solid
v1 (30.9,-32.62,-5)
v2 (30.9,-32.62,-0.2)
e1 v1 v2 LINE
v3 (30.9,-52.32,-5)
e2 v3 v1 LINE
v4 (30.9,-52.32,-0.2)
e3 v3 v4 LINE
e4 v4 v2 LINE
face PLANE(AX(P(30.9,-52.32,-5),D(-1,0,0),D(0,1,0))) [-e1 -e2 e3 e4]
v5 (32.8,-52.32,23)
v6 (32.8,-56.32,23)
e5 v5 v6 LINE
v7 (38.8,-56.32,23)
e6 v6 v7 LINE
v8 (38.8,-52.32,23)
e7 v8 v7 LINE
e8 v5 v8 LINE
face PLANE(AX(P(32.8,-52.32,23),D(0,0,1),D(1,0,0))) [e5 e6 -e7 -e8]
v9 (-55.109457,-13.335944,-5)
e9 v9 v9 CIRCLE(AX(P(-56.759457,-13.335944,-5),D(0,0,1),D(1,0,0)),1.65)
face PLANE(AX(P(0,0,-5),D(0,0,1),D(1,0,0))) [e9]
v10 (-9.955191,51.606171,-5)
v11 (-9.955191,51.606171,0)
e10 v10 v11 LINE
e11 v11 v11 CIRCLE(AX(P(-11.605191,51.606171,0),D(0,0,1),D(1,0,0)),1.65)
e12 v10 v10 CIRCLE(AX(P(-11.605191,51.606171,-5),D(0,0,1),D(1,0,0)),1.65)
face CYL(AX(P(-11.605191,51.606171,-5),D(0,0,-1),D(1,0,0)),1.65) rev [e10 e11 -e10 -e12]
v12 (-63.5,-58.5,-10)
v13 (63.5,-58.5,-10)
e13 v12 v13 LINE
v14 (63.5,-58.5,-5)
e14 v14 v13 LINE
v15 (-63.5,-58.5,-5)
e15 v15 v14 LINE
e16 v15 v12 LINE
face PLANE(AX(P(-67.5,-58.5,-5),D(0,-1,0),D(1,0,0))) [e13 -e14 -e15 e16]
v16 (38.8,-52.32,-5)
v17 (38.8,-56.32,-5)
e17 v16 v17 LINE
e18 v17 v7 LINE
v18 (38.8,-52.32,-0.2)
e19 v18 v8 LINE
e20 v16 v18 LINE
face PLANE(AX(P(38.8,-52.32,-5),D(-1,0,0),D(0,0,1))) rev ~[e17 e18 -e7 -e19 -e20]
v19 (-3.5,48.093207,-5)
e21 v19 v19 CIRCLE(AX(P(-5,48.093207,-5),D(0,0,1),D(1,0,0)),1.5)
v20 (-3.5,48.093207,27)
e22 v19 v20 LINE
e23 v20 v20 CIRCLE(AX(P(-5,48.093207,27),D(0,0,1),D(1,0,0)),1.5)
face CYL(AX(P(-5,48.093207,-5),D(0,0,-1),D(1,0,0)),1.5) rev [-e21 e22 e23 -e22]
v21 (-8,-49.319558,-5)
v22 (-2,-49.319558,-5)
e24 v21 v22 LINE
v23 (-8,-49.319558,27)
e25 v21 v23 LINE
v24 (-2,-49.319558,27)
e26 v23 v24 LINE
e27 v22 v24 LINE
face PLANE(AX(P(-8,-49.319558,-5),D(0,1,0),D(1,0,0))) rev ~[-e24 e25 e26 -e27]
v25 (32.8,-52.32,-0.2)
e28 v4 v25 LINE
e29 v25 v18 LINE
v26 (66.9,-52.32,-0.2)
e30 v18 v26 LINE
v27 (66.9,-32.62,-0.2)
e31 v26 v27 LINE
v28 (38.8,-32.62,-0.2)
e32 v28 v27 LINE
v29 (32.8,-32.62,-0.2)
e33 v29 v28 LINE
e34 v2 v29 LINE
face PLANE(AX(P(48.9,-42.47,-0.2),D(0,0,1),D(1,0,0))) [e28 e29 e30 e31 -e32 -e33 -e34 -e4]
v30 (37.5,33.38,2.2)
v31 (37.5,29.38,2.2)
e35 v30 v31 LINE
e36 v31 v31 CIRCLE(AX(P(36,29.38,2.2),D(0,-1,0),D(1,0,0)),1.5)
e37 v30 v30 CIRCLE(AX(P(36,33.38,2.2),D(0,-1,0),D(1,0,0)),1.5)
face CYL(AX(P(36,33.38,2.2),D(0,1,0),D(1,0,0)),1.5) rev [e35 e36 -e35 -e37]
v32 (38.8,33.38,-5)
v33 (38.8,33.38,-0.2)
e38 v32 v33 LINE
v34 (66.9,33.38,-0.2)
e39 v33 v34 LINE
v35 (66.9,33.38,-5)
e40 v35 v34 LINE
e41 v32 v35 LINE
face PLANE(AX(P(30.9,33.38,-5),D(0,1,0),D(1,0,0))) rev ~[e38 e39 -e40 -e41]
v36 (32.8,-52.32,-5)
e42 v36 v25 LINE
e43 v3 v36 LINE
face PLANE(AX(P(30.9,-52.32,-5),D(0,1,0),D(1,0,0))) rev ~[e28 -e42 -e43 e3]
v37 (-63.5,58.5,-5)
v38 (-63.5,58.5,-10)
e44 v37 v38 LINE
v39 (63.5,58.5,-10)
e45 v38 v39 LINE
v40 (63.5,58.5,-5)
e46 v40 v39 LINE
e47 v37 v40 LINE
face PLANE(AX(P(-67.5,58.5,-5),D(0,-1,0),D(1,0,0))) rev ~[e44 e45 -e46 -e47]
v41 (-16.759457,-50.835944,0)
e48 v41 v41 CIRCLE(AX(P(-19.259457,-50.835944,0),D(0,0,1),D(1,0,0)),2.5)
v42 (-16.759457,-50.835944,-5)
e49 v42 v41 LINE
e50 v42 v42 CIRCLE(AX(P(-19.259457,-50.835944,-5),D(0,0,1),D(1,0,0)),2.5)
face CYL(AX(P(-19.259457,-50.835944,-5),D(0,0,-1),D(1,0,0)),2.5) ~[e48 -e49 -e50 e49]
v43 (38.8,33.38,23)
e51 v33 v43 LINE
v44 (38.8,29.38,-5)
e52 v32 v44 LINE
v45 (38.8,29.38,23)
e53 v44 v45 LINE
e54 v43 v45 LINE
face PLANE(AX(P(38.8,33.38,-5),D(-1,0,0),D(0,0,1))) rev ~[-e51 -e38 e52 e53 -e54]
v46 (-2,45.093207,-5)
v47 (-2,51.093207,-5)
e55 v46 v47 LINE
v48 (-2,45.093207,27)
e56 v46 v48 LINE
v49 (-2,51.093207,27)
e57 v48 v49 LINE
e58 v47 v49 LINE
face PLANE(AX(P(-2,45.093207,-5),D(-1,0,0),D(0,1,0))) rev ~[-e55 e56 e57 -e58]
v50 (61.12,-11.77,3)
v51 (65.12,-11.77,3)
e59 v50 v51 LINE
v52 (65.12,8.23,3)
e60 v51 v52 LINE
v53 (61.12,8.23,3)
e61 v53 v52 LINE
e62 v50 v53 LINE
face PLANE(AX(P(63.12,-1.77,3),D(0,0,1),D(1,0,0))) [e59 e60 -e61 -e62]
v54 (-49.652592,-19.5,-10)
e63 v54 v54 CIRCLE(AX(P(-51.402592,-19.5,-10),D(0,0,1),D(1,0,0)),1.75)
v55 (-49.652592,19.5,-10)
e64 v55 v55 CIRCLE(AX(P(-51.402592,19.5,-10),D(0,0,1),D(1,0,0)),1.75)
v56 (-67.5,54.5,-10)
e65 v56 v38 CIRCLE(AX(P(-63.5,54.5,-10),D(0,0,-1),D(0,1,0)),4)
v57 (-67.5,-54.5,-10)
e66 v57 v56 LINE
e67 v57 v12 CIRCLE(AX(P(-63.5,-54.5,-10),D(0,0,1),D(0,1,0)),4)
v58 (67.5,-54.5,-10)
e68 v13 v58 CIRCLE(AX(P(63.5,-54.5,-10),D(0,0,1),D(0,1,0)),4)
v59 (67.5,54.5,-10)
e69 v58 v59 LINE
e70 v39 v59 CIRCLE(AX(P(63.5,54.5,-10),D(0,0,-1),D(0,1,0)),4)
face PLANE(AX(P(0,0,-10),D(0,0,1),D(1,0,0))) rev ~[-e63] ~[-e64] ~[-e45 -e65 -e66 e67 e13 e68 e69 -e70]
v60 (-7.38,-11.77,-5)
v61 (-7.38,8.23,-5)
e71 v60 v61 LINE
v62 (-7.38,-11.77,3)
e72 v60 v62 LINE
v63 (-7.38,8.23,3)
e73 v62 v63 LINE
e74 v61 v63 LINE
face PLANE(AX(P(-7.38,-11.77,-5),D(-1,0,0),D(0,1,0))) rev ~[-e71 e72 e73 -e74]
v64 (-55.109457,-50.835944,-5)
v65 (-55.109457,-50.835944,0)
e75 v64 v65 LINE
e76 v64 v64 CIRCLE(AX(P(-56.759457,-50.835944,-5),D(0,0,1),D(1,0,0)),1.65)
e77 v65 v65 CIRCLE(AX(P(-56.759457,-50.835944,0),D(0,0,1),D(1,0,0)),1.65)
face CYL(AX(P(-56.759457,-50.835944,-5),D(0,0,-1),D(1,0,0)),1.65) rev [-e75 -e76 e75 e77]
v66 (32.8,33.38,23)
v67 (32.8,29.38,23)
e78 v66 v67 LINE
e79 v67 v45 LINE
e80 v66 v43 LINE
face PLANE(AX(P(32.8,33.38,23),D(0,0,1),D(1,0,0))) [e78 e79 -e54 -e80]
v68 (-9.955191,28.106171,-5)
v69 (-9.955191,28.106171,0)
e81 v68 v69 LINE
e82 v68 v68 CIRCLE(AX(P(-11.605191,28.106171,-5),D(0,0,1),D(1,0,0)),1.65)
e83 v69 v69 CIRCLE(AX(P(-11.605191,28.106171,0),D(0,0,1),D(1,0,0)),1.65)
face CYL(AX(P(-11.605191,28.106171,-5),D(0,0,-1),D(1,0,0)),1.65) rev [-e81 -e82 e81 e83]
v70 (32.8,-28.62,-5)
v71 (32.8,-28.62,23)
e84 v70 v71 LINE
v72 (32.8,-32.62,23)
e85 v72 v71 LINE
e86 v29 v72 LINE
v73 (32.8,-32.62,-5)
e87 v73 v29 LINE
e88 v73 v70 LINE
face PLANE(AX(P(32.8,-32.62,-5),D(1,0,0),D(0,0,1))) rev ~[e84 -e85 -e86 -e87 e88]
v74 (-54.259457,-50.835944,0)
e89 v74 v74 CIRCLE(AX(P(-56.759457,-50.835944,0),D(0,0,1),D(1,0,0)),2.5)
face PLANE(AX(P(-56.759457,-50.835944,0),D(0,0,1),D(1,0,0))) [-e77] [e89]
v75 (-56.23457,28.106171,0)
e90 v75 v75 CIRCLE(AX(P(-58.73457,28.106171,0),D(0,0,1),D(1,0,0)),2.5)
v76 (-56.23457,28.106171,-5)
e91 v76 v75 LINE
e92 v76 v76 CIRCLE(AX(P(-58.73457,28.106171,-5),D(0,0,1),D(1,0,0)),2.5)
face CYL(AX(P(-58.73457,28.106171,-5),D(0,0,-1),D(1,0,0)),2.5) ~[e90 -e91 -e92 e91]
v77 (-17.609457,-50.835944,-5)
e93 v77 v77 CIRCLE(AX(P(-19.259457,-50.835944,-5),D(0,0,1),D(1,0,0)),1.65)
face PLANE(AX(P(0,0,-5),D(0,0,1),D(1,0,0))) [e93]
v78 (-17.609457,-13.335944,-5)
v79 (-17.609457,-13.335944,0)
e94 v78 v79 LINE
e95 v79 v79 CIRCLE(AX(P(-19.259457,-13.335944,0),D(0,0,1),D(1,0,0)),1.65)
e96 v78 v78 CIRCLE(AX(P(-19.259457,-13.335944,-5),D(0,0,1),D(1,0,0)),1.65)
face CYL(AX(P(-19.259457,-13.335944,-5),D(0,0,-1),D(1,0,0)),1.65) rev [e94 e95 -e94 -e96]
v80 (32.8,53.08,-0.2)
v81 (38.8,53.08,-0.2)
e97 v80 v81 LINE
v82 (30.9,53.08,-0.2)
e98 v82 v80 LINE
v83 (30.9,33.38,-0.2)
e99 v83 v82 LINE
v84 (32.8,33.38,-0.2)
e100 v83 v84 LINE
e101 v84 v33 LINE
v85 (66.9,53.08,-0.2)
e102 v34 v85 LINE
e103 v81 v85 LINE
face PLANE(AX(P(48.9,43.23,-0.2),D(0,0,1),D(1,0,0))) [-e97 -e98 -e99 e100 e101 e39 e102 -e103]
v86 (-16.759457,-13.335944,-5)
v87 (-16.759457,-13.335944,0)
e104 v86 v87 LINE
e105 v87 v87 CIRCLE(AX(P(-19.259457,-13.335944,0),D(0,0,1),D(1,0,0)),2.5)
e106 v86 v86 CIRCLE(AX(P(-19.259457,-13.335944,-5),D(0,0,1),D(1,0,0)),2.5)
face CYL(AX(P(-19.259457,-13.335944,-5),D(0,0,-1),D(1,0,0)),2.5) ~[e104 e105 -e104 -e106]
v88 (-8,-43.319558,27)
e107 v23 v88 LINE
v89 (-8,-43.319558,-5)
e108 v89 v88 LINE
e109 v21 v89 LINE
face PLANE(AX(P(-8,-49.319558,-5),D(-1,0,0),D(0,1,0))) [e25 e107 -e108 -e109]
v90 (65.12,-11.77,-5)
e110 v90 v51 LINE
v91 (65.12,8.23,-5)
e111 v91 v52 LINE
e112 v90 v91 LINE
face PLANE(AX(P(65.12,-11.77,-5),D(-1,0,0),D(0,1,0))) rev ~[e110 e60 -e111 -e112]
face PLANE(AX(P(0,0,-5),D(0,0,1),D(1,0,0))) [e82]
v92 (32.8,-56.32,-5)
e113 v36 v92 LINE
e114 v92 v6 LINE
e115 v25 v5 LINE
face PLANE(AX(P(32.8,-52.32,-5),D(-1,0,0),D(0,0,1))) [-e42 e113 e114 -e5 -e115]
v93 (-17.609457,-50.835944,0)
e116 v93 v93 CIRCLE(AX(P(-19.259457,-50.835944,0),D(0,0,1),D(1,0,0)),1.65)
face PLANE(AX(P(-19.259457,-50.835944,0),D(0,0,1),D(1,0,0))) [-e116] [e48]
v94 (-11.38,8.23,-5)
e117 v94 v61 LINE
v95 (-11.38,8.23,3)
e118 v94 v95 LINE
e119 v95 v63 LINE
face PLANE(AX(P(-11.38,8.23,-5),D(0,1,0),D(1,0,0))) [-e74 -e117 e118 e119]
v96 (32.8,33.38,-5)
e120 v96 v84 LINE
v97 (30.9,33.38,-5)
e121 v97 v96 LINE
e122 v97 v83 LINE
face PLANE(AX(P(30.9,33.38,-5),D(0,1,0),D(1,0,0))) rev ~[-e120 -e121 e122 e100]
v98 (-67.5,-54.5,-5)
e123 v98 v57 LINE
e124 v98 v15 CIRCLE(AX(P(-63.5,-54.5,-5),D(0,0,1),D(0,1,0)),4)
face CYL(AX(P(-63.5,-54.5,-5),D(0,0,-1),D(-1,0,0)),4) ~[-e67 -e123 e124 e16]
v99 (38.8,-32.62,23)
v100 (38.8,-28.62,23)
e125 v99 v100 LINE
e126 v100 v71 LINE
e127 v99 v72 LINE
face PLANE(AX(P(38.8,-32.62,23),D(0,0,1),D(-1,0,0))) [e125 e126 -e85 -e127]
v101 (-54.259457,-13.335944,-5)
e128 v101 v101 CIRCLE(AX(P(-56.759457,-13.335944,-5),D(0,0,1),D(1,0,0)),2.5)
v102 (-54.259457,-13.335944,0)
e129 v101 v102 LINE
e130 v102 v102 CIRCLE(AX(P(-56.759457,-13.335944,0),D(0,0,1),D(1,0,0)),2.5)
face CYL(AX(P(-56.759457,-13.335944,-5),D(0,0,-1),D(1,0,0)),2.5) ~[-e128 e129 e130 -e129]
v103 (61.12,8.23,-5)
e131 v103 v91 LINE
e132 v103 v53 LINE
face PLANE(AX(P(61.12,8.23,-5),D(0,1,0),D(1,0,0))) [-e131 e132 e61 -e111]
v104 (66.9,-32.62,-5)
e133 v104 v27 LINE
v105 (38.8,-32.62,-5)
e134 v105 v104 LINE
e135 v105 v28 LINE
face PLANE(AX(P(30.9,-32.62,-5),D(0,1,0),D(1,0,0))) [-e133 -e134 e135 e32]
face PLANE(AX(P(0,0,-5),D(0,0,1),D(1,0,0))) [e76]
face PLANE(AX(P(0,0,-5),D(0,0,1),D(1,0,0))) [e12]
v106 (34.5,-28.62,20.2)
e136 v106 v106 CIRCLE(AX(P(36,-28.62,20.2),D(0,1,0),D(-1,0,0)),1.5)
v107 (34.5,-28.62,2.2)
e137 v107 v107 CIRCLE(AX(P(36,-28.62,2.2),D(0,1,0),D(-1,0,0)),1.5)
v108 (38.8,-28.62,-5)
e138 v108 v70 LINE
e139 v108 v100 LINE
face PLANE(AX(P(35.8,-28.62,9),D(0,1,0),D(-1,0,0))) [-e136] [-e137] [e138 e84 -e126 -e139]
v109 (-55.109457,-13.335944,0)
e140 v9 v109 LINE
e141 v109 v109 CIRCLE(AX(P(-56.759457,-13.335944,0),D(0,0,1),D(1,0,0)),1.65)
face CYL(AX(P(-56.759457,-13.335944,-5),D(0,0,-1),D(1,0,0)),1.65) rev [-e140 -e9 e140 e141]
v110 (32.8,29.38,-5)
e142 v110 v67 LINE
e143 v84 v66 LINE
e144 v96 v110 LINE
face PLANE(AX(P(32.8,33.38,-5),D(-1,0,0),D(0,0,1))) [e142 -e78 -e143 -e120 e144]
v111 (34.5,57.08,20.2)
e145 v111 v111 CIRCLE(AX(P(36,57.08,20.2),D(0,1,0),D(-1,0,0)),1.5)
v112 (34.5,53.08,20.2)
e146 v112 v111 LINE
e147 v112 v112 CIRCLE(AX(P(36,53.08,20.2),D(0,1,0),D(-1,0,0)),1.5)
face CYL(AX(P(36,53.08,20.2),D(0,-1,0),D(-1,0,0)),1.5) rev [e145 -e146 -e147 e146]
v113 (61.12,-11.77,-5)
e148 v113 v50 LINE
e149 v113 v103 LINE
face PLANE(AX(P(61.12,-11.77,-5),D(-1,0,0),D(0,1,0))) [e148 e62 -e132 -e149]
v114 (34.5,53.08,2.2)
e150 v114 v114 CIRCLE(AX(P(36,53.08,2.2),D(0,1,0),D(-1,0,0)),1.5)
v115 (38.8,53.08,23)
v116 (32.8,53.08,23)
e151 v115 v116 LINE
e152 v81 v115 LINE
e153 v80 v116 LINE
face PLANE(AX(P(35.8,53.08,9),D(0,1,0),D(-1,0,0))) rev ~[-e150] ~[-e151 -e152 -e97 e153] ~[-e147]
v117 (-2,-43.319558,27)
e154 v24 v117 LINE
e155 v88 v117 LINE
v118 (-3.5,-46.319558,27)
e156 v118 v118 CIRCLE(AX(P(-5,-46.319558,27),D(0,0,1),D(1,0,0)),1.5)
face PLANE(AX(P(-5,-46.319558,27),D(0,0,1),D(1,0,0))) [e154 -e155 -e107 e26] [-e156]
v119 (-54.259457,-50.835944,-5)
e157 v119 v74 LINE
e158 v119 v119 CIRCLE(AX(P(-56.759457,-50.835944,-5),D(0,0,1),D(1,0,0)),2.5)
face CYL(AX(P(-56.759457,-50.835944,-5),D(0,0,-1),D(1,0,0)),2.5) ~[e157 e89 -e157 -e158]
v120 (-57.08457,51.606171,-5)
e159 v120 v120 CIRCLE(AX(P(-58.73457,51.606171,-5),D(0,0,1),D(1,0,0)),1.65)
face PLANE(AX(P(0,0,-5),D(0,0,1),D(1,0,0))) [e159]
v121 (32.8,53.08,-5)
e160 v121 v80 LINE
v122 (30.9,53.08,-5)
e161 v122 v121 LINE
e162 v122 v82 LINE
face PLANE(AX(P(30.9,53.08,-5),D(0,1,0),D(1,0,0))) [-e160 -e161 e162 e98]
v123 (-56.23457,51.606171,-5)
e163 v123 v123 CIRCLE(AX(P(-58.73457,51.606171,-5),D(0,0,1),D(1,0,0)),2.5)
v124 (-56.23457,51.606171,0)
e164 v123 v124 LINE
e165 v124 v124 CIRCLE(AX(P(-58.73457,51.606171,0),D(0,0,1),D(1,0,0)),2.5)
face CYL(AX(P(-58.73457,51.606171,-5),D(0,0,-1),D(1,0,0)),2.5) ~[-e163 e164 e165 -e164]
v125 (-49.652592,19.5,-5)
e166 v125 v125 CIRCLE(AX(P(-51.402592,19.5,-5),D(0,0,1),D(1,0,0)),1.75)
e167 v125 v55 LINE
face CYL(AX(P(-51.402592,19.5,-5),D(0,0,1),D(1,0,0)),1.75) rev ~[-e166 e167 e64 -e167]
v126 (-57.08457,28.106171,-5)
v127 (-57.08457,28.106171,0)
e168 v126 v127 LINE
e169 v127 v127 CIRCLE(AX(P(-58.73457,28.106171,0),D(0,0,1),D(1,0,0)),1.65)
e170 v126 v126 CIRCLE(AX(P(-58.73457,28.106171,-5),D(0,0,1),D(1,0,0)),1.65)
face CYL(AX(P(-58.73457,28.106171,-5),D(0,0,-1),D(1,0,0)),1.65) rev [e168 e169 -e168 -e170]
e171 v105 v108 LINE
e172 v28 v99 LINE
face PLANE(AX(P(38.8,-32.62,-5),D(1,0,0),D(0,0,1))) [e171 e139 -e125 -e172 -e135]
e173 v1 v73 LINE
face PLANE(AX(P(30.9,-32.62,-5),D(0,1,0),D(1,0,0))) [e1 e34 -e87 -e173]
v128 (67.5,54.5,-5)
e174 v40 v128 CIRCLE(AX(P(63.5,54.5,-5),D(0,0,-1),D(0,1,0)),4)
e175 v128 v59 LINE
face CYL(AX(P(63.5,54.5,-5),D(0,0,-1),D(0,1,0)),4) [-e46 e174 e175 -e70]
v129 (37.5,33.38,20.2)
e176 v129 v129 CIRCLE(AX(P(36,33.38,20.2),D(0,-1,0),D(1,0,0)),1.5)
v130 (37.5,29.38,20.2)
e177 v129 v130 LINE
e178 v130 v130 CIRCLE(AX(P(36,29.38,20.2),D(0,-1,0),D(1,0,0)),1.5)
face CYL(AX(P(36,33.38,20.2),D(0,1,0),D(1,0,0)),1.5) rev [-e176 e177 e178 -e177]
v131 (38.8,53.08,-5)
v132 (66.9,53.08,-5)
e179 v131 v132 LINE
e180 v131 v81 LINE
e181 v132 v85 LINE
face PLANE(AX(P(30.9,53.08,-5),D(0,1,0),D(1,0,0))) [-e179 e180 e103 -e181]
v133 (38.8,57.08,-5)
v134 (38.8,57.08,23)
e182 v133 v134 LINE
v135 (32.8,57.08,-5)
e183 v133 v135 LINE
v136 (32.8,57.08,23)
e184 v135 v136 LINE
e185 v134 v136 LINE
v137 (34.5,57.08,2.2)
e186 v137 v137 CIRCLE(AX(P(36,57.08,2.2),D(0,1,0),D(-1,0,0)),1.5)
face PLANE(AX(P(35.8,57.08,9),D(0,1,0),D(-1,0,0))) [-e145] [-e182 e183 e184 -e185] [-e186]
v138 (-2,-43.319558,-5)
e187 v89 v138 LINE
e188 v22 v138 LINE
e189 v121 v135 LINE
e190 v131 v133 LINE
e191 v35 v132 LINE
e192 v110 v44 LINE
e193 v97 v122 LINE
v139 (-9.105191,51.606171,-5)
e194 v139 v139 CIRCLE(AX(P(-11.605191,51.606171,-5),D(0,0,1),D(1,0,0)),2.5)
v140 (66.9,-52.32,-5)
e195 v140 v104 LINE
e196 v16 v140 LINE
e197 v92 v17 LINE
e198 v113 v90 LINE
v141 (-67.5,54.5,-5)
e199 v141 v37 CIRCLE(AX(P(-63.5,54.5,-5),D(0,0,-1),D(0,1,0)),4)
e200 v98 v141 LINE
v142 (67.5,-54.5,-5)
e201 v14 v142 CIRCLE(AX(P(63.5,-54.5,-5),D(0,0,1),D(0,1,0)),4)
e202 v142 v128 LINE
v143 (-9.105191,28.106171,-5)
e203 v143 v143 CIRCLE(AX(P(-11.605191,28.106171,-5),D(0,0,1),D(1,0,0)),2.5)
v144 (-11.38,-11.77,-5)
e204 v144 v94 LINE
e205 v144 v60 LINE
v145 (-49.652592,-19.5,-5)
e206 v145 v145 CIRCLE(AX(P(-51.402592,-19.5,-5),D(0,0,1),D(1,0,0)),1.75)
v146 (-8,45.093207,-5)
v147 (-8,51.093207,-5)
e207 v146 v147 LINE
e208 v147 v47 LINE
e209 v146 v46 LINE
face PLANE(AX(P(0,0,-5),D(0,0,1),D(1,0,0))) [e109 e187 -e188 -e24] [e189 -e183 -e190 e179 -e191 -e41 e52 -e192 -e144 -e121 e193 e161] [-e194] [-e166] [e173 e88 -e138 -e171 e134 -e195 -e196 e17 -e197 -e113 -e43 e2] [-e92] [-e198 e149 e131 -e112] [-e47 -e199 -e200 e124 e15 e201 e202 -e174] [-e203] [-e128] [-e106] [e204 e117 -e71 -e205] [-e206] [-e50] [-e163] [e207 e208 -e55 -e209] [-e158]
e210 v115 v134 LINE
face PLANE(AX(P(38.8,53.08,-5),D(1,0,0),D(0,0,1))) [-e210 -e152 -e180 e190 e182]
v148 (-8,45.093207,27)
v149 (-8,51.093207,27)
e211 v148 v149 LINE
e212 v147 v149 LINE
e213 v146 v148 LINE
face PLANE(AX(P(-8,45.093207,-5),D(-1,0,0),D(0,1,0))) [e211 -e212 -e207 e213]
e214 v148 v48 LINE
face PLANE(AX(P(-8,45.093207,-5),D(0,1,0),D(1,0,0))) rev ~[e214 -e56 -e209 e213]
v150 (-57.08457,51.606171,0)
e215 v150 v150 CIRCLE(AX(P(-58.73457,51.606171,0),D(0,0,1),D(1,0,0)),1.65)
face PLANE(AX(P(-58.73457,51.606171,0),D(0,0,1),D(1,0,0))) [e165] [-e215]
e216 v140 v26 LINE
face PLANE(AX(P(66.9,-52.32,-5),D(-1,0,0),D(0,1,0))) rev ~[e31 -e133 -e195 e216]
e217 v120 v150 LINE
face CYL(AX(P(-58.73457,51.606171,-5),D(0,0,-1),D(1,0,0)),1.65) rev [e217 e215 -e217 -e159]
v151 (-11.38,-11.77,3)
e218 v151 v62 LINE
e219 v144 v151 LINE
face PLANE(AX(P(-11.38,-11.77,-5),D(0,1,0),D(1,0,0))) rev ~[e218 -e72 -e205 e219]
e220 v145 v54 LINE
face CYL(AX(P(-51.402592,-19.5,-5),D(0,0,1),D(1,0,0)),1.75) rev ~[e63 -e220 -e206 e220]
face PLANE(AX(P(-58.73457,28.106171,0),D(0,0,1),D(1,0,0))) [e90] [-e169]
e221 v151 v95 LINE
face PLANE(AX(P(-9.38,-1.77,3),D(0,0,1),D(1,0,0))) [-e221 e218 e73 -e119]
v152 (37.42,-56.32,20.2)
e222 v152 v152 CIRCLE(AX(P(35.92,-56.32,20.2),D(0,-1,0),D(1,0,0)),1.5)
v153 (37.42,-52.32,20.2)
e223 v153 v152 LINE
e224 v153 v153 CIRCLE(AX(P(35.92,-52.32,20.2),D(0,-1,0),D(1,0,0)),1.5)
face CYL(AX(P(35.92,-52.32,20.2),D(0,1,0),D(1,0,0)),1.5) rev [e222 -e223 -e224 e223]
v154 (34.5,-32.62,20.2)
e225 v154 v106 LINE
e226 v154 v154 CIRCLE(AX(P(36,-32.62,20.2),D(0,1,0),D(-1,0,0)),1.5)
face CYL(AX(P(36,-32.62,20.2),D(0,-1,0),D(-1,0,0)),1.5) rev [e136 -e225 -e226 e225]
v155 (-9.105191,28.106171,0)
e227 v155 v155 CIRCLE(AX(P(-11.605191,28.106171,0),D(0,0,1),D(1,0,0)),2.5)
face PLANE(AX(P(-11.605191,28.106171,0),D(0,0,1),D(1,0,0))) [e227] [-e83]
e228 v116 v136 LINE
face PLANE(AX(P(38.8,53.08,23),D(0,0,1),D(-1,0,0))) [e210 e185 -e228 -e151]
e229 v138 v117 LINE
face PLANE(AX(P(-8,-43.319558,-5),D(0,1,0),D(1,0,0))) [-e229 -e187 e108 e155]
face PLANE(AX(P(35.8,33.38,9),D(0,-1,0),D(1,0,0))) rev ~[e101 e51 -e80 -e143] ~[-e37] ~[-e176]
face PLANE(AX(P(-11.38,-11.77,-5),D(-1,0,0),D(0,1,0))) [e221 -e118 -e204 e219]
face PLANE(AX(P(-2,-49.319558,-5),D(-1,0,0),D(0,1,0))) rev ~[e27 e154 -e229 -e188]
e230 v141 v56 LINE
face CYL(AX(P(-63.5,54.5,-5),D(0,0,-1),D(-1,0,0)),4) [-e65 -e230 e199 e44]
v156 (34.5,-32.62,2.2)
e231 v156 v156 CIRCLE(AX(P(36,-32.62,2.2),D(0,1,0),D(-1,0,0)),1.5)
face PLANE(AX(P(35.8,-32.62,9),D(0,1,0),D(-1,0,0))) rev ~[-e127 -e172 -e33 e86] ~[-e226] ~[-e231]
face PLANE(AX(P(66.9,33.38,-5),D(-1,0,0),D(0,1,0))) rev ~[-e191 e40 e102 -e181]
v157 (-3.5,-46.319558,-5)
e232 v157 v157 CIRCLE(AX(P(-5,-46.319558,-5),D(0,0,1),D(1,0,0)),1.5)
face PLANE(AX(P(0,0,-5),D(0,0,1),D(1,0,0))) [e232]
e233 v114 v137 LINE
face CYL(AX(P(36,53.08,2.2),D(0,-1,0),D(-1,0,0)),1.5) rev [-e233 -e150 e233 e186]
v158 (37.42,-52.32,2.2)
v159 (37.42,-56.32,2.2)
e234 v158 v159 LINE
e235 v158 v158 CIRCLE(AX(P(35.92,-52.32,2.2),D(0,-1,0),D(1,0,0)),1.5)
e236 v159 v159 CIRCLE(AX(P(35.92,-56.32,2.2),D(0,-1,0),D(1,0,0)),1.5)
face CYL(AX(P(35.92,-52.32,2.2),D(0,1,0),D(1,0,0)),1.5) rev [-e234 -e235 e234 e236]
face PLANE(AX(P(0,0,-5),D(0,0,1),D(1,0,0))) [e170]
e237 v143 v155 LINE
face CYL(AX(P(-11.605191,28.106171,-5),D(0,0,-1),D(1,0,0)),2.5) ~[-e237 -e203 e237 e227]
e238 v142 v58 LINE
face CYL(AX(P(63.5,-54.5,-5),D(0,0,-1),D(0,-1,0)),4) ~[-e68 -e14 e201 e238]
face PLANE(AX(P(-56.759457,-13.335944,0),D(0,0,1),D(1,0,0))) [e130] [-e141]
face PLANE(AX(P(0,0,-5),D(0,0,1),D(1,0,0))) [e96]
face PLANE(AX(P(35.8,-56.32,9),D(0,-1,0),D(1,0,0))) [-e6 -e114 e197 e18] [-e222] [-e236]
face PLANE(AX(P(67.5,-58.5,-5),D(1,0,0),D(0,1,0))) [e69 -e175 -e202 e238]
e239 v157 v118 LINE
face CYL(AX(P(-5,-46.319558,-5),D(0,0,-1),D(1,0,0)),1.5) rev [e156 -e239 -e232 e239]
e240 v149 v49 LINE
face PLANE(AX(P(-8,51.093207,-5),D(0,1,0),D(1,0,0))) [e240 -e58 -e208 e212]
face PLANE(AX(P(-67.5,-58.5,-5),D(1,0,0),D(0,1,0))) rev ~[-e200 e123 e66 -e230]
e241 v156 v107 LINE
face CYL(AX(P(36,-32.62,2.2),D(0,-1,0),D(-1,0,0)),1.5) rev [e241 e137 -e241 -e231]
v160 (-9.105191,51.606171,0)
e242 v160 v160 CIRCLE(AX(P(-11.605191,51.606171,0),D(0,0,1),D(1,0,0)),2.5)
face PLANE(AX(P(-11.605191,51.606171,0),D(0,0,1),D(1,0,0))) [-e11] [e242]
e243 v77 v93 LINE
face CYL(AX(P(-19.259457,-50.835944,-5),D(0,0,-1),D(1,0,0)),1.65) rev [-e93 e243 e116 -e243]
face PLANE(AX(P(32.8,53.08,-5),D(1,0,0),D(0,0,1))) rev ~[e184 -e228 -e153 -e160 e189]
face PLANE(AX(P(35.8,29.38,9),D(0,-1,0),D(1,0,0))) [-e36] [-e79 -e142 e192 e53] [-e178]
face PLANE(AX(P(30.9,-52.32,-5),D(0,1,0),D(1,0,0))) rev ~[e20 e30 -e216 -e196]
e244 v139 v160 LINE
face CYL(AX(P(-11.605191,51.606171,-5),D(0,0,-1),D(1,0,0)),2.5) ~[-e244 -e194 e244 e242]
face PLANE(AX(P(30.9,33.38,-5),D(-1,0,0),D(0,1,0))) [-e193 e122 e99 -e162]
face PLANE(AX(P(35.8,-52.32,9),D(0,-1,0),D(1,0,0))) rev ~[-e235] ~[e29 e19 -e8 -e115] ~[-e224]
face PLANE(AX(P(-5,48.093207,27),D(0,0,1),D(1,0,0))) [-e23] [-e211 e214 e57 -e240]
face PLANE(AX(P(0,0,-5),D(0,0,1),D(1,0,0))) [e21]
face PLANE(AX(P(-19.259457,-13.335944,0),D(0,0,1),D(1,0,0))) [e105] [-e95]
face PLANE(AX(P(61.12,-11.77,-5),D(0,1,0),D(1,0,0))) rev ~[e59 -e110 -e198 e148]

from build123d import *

# Parameters (mm, degrees)
SKETCH_W      = 135
SKETCH_H      = 117
SKETCH_R      = 1.75
PAD_DEPTH     = 5
SKETCH001_W   = 36
SKETCH001_H   = 19.7
PAD001_DEPTH  = 4.8
SKETCH002_W   = 6
SKETCH002_H   = 28
SKETCH002_R   = 1.5
PAD002_DEPTH  = 4
SKETCH003_W   = 6
SKETCH003_H   = 28
SKETCH003_R   = 1.5
PAD003_DEPTH  = 4
SKETCH004_W   = 6
SKETCH004_H   = 28
SKETCH004_R   = 1.5
PAD004_DEPTH  = 4
SKETCH005_W   = 6
SKETCH005_H   = 28
SKETCH005_R   = 1.5
PAD005_DEPTH  = 4
SKETCH006_R   = 2.5
SKETCH006_R_2 = 1.65
PAD006_DEPTH  = 5
SKETCH007_W   = 4
SKETCH007_H   = 20
PAD007_DEPTH  = 8
SKETCH009_W   = 6
SKETCH009_H   = 6
SKETCH009_R   = 1.5
PAD009_DEPTH  = 32
FILLET_R      = 4


with BuildPart() as part:
    # Sketch → Pad (new body)
    with BuildSketch(Plane.XY):
        Rectangle(SKETCH_W, SKETCH_H)
        with Locations((-51.402592, 19.5)):
            Circle(SKETCH_R, mode=Mode.SUBTRACT)
        with Locations((-51.402592, -19.5)):
            Circle(SKETCH_R, mode=Mode.SUBTRACT)
    extrude(amount=-PAD_DEPTH)

    # Sketch001 (on Face7 of Pad) → Pad001 (join)
    with BuildSketch(Plane.XY):
        with Locations((48.9, 43.23)):
            Rectangle(SKETCH001_W, SKETCH001_H)
        with Locations((48.9, -42.47)):
            Rectangle(SKETCH001_W, SKETCH001_H)
    extrude(amount=PAD001_DEPTH)

    # Sketch002 (on Face9 of Pad001) → Pad002 (join)
    with BuildSketch(Plane.XZ.offset(52.32)):
        with Locations((35.8, 14)):
            Rectangle(SKETCH002_W, SKETCH002_H)
        with Locations((35.92, 25.2)):
            Circle(SKETCH002_R, mode=Mode.SUBTRACT)
        with Locations((35.92, 7.2)):
            Circle(SKETCH002_R, mode=Mode.SUBTRACT)
    extrude(amount=PAD002_DEPTH)

    # Sketch003 (on Face14 of Pad002) → Pad003 (join)
    with BuildSketch(Plane(origin=(0, -32.62, 0), x_dir=(-1, 0, 0), z_dir=(0, 1, 0))):
        with Locations((-35.8, 14)):
            Rectangle(SKETCH003_W, SKETCH003_H)
        with Locations((-36, 25.2)):
            Circle(SKETCH003_R, mode=Mode.SUBTRACT)
        with Locations((-36, 7.2)):
            Circle(SKETCH003_R, mode=Mode.SUBTRACT)
    extrude(amount=PAD003_DEPTH)

    # Sketch004 (on Face22 of Pad003) → Pad004 (join)
    with BuildSketch(Plane.XZ.offset(-33.38)):
        with Locations((35.8, 14)):
            Rectangle(SKETCH004_W, SKETCH004_H)
        with Locations((36, 25.2)):
            Circle(SKETCH004_R, mode=Mode.SUBTRACT)
        with Locations((36, 7.2)):
            Circle(SKETCH004_R, mode=Mode.SUBTRACT)
    extrude(amount=PAD004_DEPTH)

    # Sketch005 (on Face27 of Pad004) → Pad005 (join)
    with BuildSketch(Plane(origin=(0, 53.08, 0), x_dir=(-1, 0, 0), z_dir=(0, 1, 0))):
        with Locations((-35.8, 14)):
            Rectangle(SKETCH005_W, SKETCH005_H)
        with Locations((-36, 25.2)):
            Circle(SKETCH005_R, mode=Mode.SUBTRACT)
        with Locations((-36, 7.2)):
            Circle(SKETCH005_R, mode=Mode.SUBTRACT)
    extrude(amount=PAD005_DEPTH)

    # Sketch006 (on Face4 of Pad005) → Pad006 (join)
    with BuildSketch(Plane.XY):
        with Locations((-11.605191, 51.606171)):
            Circle(SKETCH006_R)
        with Locations((-11.605191, 51.606171)):
            Circle(SKETCH006_R_2, mode=Mode.SUBTRACT)
        with Locations((-58.73457, 51.606171)):
            Circle(SKETCH006_R)
        with Locations((-58.73457, 51.606171)):
            Circle(SKETCH006_R_2, mode=Mode.SUBTRACT)
        with Locations((-58.73457, 28.106171)):
            Circle(SKETCH006_R)
        with Locations((-58.73457, 28.106171)):
            Circle(SKETCH006_R_2, mode=Mode.SUBTRACT)
        with Locations((-11.605191, 28.106171)):
            Circle(SKETCH006_R)
        with Locations((-11.605191, 28.106171)):
            Circle(SKETCH006_R_2, mode=Mode.SUBTRACT)
        with Locations((-19.259457, -13.335944)):
            Circle(SKETCH006_R)
        with Locations((-19.259457, -13.335944)):
            Circle(SKETCH006_R_2, mode=Mode.SUBTRACT)
        with Locations((-56.759457, -13.335944)):
            Circle(SKETCH006_R)
        with Locations((-56.759457, -13.335944)):
            Circle(SKETCH006_R_2, mode=Mode.SUBTRACT)
        with Locations((-56.759457, -50.835944)):
            Circle(SKETCH006_R)
        with Locations((-56.759457, -50.835944)):
            Circle(SKETCH006_R_2, mode=Mode.SUBTRACT)
        with Locations((-19.259457, -50.835944)):
            Circle(SKETCH006_R)
        with Locations((-19.259457, -50.835944)):
            Circle(SKETCH006_R_2, mode=Mode.SUBTRACT)
    extrude(amount=PAD006_DEPTH)

    # Sketch007 (on Face4 of Pad006) → Pad007 (join)
    with BuildSketch(Plane.XY):
        with Locations((63.12, -1.77)):
            Rectangle(SKETCH007_W, SKETCH007_H)
        with Locations((-9.38, -1.77)):
            Rectangle(SKETCH007_W, SKETCH007_H)
    extrude(amount=PAD007_DEPTH)

    # Sketch009 (on Face4 of Pad007) → Pad009 (join)
    with BuildSketch(Plane.XY):
        with Locations((-5, 48.093207)):
            Rectangle(SKETCH009_W, SKETCH009_H)
        with Locations((-5, 48.093207)):
            Circle(SKETCH009_R, mode=Mode.SUBTRACT)
        with Locations((-5, -46.319558)):
            Rectangle(SKETCH009_W, SKETCH009_H)
        with Locations((-5, -46.319558)):
            Circle(SKETCH009_R, mode=Mode.SUBTRACT)
    extrude(amount=PAD009_DEPTH)

    # Fillet
    fillet_edges = [part.edges().sort_by_distance(p)[0] for p in [
        (-67.5, -58.5, -2.5),
        (-67.5, 58.5, -2.5),
        (67.5, -58.5, -2.5),
        (67.5, 58.5, -2.5),
    ]]
    fillet(fillet_edges, radius=FILLET_R)


with BuildPart() as part_1:
    # Body placement: moved
    add(part.part.moved(Location((0, 0, -5))))


solid = part_1.part
